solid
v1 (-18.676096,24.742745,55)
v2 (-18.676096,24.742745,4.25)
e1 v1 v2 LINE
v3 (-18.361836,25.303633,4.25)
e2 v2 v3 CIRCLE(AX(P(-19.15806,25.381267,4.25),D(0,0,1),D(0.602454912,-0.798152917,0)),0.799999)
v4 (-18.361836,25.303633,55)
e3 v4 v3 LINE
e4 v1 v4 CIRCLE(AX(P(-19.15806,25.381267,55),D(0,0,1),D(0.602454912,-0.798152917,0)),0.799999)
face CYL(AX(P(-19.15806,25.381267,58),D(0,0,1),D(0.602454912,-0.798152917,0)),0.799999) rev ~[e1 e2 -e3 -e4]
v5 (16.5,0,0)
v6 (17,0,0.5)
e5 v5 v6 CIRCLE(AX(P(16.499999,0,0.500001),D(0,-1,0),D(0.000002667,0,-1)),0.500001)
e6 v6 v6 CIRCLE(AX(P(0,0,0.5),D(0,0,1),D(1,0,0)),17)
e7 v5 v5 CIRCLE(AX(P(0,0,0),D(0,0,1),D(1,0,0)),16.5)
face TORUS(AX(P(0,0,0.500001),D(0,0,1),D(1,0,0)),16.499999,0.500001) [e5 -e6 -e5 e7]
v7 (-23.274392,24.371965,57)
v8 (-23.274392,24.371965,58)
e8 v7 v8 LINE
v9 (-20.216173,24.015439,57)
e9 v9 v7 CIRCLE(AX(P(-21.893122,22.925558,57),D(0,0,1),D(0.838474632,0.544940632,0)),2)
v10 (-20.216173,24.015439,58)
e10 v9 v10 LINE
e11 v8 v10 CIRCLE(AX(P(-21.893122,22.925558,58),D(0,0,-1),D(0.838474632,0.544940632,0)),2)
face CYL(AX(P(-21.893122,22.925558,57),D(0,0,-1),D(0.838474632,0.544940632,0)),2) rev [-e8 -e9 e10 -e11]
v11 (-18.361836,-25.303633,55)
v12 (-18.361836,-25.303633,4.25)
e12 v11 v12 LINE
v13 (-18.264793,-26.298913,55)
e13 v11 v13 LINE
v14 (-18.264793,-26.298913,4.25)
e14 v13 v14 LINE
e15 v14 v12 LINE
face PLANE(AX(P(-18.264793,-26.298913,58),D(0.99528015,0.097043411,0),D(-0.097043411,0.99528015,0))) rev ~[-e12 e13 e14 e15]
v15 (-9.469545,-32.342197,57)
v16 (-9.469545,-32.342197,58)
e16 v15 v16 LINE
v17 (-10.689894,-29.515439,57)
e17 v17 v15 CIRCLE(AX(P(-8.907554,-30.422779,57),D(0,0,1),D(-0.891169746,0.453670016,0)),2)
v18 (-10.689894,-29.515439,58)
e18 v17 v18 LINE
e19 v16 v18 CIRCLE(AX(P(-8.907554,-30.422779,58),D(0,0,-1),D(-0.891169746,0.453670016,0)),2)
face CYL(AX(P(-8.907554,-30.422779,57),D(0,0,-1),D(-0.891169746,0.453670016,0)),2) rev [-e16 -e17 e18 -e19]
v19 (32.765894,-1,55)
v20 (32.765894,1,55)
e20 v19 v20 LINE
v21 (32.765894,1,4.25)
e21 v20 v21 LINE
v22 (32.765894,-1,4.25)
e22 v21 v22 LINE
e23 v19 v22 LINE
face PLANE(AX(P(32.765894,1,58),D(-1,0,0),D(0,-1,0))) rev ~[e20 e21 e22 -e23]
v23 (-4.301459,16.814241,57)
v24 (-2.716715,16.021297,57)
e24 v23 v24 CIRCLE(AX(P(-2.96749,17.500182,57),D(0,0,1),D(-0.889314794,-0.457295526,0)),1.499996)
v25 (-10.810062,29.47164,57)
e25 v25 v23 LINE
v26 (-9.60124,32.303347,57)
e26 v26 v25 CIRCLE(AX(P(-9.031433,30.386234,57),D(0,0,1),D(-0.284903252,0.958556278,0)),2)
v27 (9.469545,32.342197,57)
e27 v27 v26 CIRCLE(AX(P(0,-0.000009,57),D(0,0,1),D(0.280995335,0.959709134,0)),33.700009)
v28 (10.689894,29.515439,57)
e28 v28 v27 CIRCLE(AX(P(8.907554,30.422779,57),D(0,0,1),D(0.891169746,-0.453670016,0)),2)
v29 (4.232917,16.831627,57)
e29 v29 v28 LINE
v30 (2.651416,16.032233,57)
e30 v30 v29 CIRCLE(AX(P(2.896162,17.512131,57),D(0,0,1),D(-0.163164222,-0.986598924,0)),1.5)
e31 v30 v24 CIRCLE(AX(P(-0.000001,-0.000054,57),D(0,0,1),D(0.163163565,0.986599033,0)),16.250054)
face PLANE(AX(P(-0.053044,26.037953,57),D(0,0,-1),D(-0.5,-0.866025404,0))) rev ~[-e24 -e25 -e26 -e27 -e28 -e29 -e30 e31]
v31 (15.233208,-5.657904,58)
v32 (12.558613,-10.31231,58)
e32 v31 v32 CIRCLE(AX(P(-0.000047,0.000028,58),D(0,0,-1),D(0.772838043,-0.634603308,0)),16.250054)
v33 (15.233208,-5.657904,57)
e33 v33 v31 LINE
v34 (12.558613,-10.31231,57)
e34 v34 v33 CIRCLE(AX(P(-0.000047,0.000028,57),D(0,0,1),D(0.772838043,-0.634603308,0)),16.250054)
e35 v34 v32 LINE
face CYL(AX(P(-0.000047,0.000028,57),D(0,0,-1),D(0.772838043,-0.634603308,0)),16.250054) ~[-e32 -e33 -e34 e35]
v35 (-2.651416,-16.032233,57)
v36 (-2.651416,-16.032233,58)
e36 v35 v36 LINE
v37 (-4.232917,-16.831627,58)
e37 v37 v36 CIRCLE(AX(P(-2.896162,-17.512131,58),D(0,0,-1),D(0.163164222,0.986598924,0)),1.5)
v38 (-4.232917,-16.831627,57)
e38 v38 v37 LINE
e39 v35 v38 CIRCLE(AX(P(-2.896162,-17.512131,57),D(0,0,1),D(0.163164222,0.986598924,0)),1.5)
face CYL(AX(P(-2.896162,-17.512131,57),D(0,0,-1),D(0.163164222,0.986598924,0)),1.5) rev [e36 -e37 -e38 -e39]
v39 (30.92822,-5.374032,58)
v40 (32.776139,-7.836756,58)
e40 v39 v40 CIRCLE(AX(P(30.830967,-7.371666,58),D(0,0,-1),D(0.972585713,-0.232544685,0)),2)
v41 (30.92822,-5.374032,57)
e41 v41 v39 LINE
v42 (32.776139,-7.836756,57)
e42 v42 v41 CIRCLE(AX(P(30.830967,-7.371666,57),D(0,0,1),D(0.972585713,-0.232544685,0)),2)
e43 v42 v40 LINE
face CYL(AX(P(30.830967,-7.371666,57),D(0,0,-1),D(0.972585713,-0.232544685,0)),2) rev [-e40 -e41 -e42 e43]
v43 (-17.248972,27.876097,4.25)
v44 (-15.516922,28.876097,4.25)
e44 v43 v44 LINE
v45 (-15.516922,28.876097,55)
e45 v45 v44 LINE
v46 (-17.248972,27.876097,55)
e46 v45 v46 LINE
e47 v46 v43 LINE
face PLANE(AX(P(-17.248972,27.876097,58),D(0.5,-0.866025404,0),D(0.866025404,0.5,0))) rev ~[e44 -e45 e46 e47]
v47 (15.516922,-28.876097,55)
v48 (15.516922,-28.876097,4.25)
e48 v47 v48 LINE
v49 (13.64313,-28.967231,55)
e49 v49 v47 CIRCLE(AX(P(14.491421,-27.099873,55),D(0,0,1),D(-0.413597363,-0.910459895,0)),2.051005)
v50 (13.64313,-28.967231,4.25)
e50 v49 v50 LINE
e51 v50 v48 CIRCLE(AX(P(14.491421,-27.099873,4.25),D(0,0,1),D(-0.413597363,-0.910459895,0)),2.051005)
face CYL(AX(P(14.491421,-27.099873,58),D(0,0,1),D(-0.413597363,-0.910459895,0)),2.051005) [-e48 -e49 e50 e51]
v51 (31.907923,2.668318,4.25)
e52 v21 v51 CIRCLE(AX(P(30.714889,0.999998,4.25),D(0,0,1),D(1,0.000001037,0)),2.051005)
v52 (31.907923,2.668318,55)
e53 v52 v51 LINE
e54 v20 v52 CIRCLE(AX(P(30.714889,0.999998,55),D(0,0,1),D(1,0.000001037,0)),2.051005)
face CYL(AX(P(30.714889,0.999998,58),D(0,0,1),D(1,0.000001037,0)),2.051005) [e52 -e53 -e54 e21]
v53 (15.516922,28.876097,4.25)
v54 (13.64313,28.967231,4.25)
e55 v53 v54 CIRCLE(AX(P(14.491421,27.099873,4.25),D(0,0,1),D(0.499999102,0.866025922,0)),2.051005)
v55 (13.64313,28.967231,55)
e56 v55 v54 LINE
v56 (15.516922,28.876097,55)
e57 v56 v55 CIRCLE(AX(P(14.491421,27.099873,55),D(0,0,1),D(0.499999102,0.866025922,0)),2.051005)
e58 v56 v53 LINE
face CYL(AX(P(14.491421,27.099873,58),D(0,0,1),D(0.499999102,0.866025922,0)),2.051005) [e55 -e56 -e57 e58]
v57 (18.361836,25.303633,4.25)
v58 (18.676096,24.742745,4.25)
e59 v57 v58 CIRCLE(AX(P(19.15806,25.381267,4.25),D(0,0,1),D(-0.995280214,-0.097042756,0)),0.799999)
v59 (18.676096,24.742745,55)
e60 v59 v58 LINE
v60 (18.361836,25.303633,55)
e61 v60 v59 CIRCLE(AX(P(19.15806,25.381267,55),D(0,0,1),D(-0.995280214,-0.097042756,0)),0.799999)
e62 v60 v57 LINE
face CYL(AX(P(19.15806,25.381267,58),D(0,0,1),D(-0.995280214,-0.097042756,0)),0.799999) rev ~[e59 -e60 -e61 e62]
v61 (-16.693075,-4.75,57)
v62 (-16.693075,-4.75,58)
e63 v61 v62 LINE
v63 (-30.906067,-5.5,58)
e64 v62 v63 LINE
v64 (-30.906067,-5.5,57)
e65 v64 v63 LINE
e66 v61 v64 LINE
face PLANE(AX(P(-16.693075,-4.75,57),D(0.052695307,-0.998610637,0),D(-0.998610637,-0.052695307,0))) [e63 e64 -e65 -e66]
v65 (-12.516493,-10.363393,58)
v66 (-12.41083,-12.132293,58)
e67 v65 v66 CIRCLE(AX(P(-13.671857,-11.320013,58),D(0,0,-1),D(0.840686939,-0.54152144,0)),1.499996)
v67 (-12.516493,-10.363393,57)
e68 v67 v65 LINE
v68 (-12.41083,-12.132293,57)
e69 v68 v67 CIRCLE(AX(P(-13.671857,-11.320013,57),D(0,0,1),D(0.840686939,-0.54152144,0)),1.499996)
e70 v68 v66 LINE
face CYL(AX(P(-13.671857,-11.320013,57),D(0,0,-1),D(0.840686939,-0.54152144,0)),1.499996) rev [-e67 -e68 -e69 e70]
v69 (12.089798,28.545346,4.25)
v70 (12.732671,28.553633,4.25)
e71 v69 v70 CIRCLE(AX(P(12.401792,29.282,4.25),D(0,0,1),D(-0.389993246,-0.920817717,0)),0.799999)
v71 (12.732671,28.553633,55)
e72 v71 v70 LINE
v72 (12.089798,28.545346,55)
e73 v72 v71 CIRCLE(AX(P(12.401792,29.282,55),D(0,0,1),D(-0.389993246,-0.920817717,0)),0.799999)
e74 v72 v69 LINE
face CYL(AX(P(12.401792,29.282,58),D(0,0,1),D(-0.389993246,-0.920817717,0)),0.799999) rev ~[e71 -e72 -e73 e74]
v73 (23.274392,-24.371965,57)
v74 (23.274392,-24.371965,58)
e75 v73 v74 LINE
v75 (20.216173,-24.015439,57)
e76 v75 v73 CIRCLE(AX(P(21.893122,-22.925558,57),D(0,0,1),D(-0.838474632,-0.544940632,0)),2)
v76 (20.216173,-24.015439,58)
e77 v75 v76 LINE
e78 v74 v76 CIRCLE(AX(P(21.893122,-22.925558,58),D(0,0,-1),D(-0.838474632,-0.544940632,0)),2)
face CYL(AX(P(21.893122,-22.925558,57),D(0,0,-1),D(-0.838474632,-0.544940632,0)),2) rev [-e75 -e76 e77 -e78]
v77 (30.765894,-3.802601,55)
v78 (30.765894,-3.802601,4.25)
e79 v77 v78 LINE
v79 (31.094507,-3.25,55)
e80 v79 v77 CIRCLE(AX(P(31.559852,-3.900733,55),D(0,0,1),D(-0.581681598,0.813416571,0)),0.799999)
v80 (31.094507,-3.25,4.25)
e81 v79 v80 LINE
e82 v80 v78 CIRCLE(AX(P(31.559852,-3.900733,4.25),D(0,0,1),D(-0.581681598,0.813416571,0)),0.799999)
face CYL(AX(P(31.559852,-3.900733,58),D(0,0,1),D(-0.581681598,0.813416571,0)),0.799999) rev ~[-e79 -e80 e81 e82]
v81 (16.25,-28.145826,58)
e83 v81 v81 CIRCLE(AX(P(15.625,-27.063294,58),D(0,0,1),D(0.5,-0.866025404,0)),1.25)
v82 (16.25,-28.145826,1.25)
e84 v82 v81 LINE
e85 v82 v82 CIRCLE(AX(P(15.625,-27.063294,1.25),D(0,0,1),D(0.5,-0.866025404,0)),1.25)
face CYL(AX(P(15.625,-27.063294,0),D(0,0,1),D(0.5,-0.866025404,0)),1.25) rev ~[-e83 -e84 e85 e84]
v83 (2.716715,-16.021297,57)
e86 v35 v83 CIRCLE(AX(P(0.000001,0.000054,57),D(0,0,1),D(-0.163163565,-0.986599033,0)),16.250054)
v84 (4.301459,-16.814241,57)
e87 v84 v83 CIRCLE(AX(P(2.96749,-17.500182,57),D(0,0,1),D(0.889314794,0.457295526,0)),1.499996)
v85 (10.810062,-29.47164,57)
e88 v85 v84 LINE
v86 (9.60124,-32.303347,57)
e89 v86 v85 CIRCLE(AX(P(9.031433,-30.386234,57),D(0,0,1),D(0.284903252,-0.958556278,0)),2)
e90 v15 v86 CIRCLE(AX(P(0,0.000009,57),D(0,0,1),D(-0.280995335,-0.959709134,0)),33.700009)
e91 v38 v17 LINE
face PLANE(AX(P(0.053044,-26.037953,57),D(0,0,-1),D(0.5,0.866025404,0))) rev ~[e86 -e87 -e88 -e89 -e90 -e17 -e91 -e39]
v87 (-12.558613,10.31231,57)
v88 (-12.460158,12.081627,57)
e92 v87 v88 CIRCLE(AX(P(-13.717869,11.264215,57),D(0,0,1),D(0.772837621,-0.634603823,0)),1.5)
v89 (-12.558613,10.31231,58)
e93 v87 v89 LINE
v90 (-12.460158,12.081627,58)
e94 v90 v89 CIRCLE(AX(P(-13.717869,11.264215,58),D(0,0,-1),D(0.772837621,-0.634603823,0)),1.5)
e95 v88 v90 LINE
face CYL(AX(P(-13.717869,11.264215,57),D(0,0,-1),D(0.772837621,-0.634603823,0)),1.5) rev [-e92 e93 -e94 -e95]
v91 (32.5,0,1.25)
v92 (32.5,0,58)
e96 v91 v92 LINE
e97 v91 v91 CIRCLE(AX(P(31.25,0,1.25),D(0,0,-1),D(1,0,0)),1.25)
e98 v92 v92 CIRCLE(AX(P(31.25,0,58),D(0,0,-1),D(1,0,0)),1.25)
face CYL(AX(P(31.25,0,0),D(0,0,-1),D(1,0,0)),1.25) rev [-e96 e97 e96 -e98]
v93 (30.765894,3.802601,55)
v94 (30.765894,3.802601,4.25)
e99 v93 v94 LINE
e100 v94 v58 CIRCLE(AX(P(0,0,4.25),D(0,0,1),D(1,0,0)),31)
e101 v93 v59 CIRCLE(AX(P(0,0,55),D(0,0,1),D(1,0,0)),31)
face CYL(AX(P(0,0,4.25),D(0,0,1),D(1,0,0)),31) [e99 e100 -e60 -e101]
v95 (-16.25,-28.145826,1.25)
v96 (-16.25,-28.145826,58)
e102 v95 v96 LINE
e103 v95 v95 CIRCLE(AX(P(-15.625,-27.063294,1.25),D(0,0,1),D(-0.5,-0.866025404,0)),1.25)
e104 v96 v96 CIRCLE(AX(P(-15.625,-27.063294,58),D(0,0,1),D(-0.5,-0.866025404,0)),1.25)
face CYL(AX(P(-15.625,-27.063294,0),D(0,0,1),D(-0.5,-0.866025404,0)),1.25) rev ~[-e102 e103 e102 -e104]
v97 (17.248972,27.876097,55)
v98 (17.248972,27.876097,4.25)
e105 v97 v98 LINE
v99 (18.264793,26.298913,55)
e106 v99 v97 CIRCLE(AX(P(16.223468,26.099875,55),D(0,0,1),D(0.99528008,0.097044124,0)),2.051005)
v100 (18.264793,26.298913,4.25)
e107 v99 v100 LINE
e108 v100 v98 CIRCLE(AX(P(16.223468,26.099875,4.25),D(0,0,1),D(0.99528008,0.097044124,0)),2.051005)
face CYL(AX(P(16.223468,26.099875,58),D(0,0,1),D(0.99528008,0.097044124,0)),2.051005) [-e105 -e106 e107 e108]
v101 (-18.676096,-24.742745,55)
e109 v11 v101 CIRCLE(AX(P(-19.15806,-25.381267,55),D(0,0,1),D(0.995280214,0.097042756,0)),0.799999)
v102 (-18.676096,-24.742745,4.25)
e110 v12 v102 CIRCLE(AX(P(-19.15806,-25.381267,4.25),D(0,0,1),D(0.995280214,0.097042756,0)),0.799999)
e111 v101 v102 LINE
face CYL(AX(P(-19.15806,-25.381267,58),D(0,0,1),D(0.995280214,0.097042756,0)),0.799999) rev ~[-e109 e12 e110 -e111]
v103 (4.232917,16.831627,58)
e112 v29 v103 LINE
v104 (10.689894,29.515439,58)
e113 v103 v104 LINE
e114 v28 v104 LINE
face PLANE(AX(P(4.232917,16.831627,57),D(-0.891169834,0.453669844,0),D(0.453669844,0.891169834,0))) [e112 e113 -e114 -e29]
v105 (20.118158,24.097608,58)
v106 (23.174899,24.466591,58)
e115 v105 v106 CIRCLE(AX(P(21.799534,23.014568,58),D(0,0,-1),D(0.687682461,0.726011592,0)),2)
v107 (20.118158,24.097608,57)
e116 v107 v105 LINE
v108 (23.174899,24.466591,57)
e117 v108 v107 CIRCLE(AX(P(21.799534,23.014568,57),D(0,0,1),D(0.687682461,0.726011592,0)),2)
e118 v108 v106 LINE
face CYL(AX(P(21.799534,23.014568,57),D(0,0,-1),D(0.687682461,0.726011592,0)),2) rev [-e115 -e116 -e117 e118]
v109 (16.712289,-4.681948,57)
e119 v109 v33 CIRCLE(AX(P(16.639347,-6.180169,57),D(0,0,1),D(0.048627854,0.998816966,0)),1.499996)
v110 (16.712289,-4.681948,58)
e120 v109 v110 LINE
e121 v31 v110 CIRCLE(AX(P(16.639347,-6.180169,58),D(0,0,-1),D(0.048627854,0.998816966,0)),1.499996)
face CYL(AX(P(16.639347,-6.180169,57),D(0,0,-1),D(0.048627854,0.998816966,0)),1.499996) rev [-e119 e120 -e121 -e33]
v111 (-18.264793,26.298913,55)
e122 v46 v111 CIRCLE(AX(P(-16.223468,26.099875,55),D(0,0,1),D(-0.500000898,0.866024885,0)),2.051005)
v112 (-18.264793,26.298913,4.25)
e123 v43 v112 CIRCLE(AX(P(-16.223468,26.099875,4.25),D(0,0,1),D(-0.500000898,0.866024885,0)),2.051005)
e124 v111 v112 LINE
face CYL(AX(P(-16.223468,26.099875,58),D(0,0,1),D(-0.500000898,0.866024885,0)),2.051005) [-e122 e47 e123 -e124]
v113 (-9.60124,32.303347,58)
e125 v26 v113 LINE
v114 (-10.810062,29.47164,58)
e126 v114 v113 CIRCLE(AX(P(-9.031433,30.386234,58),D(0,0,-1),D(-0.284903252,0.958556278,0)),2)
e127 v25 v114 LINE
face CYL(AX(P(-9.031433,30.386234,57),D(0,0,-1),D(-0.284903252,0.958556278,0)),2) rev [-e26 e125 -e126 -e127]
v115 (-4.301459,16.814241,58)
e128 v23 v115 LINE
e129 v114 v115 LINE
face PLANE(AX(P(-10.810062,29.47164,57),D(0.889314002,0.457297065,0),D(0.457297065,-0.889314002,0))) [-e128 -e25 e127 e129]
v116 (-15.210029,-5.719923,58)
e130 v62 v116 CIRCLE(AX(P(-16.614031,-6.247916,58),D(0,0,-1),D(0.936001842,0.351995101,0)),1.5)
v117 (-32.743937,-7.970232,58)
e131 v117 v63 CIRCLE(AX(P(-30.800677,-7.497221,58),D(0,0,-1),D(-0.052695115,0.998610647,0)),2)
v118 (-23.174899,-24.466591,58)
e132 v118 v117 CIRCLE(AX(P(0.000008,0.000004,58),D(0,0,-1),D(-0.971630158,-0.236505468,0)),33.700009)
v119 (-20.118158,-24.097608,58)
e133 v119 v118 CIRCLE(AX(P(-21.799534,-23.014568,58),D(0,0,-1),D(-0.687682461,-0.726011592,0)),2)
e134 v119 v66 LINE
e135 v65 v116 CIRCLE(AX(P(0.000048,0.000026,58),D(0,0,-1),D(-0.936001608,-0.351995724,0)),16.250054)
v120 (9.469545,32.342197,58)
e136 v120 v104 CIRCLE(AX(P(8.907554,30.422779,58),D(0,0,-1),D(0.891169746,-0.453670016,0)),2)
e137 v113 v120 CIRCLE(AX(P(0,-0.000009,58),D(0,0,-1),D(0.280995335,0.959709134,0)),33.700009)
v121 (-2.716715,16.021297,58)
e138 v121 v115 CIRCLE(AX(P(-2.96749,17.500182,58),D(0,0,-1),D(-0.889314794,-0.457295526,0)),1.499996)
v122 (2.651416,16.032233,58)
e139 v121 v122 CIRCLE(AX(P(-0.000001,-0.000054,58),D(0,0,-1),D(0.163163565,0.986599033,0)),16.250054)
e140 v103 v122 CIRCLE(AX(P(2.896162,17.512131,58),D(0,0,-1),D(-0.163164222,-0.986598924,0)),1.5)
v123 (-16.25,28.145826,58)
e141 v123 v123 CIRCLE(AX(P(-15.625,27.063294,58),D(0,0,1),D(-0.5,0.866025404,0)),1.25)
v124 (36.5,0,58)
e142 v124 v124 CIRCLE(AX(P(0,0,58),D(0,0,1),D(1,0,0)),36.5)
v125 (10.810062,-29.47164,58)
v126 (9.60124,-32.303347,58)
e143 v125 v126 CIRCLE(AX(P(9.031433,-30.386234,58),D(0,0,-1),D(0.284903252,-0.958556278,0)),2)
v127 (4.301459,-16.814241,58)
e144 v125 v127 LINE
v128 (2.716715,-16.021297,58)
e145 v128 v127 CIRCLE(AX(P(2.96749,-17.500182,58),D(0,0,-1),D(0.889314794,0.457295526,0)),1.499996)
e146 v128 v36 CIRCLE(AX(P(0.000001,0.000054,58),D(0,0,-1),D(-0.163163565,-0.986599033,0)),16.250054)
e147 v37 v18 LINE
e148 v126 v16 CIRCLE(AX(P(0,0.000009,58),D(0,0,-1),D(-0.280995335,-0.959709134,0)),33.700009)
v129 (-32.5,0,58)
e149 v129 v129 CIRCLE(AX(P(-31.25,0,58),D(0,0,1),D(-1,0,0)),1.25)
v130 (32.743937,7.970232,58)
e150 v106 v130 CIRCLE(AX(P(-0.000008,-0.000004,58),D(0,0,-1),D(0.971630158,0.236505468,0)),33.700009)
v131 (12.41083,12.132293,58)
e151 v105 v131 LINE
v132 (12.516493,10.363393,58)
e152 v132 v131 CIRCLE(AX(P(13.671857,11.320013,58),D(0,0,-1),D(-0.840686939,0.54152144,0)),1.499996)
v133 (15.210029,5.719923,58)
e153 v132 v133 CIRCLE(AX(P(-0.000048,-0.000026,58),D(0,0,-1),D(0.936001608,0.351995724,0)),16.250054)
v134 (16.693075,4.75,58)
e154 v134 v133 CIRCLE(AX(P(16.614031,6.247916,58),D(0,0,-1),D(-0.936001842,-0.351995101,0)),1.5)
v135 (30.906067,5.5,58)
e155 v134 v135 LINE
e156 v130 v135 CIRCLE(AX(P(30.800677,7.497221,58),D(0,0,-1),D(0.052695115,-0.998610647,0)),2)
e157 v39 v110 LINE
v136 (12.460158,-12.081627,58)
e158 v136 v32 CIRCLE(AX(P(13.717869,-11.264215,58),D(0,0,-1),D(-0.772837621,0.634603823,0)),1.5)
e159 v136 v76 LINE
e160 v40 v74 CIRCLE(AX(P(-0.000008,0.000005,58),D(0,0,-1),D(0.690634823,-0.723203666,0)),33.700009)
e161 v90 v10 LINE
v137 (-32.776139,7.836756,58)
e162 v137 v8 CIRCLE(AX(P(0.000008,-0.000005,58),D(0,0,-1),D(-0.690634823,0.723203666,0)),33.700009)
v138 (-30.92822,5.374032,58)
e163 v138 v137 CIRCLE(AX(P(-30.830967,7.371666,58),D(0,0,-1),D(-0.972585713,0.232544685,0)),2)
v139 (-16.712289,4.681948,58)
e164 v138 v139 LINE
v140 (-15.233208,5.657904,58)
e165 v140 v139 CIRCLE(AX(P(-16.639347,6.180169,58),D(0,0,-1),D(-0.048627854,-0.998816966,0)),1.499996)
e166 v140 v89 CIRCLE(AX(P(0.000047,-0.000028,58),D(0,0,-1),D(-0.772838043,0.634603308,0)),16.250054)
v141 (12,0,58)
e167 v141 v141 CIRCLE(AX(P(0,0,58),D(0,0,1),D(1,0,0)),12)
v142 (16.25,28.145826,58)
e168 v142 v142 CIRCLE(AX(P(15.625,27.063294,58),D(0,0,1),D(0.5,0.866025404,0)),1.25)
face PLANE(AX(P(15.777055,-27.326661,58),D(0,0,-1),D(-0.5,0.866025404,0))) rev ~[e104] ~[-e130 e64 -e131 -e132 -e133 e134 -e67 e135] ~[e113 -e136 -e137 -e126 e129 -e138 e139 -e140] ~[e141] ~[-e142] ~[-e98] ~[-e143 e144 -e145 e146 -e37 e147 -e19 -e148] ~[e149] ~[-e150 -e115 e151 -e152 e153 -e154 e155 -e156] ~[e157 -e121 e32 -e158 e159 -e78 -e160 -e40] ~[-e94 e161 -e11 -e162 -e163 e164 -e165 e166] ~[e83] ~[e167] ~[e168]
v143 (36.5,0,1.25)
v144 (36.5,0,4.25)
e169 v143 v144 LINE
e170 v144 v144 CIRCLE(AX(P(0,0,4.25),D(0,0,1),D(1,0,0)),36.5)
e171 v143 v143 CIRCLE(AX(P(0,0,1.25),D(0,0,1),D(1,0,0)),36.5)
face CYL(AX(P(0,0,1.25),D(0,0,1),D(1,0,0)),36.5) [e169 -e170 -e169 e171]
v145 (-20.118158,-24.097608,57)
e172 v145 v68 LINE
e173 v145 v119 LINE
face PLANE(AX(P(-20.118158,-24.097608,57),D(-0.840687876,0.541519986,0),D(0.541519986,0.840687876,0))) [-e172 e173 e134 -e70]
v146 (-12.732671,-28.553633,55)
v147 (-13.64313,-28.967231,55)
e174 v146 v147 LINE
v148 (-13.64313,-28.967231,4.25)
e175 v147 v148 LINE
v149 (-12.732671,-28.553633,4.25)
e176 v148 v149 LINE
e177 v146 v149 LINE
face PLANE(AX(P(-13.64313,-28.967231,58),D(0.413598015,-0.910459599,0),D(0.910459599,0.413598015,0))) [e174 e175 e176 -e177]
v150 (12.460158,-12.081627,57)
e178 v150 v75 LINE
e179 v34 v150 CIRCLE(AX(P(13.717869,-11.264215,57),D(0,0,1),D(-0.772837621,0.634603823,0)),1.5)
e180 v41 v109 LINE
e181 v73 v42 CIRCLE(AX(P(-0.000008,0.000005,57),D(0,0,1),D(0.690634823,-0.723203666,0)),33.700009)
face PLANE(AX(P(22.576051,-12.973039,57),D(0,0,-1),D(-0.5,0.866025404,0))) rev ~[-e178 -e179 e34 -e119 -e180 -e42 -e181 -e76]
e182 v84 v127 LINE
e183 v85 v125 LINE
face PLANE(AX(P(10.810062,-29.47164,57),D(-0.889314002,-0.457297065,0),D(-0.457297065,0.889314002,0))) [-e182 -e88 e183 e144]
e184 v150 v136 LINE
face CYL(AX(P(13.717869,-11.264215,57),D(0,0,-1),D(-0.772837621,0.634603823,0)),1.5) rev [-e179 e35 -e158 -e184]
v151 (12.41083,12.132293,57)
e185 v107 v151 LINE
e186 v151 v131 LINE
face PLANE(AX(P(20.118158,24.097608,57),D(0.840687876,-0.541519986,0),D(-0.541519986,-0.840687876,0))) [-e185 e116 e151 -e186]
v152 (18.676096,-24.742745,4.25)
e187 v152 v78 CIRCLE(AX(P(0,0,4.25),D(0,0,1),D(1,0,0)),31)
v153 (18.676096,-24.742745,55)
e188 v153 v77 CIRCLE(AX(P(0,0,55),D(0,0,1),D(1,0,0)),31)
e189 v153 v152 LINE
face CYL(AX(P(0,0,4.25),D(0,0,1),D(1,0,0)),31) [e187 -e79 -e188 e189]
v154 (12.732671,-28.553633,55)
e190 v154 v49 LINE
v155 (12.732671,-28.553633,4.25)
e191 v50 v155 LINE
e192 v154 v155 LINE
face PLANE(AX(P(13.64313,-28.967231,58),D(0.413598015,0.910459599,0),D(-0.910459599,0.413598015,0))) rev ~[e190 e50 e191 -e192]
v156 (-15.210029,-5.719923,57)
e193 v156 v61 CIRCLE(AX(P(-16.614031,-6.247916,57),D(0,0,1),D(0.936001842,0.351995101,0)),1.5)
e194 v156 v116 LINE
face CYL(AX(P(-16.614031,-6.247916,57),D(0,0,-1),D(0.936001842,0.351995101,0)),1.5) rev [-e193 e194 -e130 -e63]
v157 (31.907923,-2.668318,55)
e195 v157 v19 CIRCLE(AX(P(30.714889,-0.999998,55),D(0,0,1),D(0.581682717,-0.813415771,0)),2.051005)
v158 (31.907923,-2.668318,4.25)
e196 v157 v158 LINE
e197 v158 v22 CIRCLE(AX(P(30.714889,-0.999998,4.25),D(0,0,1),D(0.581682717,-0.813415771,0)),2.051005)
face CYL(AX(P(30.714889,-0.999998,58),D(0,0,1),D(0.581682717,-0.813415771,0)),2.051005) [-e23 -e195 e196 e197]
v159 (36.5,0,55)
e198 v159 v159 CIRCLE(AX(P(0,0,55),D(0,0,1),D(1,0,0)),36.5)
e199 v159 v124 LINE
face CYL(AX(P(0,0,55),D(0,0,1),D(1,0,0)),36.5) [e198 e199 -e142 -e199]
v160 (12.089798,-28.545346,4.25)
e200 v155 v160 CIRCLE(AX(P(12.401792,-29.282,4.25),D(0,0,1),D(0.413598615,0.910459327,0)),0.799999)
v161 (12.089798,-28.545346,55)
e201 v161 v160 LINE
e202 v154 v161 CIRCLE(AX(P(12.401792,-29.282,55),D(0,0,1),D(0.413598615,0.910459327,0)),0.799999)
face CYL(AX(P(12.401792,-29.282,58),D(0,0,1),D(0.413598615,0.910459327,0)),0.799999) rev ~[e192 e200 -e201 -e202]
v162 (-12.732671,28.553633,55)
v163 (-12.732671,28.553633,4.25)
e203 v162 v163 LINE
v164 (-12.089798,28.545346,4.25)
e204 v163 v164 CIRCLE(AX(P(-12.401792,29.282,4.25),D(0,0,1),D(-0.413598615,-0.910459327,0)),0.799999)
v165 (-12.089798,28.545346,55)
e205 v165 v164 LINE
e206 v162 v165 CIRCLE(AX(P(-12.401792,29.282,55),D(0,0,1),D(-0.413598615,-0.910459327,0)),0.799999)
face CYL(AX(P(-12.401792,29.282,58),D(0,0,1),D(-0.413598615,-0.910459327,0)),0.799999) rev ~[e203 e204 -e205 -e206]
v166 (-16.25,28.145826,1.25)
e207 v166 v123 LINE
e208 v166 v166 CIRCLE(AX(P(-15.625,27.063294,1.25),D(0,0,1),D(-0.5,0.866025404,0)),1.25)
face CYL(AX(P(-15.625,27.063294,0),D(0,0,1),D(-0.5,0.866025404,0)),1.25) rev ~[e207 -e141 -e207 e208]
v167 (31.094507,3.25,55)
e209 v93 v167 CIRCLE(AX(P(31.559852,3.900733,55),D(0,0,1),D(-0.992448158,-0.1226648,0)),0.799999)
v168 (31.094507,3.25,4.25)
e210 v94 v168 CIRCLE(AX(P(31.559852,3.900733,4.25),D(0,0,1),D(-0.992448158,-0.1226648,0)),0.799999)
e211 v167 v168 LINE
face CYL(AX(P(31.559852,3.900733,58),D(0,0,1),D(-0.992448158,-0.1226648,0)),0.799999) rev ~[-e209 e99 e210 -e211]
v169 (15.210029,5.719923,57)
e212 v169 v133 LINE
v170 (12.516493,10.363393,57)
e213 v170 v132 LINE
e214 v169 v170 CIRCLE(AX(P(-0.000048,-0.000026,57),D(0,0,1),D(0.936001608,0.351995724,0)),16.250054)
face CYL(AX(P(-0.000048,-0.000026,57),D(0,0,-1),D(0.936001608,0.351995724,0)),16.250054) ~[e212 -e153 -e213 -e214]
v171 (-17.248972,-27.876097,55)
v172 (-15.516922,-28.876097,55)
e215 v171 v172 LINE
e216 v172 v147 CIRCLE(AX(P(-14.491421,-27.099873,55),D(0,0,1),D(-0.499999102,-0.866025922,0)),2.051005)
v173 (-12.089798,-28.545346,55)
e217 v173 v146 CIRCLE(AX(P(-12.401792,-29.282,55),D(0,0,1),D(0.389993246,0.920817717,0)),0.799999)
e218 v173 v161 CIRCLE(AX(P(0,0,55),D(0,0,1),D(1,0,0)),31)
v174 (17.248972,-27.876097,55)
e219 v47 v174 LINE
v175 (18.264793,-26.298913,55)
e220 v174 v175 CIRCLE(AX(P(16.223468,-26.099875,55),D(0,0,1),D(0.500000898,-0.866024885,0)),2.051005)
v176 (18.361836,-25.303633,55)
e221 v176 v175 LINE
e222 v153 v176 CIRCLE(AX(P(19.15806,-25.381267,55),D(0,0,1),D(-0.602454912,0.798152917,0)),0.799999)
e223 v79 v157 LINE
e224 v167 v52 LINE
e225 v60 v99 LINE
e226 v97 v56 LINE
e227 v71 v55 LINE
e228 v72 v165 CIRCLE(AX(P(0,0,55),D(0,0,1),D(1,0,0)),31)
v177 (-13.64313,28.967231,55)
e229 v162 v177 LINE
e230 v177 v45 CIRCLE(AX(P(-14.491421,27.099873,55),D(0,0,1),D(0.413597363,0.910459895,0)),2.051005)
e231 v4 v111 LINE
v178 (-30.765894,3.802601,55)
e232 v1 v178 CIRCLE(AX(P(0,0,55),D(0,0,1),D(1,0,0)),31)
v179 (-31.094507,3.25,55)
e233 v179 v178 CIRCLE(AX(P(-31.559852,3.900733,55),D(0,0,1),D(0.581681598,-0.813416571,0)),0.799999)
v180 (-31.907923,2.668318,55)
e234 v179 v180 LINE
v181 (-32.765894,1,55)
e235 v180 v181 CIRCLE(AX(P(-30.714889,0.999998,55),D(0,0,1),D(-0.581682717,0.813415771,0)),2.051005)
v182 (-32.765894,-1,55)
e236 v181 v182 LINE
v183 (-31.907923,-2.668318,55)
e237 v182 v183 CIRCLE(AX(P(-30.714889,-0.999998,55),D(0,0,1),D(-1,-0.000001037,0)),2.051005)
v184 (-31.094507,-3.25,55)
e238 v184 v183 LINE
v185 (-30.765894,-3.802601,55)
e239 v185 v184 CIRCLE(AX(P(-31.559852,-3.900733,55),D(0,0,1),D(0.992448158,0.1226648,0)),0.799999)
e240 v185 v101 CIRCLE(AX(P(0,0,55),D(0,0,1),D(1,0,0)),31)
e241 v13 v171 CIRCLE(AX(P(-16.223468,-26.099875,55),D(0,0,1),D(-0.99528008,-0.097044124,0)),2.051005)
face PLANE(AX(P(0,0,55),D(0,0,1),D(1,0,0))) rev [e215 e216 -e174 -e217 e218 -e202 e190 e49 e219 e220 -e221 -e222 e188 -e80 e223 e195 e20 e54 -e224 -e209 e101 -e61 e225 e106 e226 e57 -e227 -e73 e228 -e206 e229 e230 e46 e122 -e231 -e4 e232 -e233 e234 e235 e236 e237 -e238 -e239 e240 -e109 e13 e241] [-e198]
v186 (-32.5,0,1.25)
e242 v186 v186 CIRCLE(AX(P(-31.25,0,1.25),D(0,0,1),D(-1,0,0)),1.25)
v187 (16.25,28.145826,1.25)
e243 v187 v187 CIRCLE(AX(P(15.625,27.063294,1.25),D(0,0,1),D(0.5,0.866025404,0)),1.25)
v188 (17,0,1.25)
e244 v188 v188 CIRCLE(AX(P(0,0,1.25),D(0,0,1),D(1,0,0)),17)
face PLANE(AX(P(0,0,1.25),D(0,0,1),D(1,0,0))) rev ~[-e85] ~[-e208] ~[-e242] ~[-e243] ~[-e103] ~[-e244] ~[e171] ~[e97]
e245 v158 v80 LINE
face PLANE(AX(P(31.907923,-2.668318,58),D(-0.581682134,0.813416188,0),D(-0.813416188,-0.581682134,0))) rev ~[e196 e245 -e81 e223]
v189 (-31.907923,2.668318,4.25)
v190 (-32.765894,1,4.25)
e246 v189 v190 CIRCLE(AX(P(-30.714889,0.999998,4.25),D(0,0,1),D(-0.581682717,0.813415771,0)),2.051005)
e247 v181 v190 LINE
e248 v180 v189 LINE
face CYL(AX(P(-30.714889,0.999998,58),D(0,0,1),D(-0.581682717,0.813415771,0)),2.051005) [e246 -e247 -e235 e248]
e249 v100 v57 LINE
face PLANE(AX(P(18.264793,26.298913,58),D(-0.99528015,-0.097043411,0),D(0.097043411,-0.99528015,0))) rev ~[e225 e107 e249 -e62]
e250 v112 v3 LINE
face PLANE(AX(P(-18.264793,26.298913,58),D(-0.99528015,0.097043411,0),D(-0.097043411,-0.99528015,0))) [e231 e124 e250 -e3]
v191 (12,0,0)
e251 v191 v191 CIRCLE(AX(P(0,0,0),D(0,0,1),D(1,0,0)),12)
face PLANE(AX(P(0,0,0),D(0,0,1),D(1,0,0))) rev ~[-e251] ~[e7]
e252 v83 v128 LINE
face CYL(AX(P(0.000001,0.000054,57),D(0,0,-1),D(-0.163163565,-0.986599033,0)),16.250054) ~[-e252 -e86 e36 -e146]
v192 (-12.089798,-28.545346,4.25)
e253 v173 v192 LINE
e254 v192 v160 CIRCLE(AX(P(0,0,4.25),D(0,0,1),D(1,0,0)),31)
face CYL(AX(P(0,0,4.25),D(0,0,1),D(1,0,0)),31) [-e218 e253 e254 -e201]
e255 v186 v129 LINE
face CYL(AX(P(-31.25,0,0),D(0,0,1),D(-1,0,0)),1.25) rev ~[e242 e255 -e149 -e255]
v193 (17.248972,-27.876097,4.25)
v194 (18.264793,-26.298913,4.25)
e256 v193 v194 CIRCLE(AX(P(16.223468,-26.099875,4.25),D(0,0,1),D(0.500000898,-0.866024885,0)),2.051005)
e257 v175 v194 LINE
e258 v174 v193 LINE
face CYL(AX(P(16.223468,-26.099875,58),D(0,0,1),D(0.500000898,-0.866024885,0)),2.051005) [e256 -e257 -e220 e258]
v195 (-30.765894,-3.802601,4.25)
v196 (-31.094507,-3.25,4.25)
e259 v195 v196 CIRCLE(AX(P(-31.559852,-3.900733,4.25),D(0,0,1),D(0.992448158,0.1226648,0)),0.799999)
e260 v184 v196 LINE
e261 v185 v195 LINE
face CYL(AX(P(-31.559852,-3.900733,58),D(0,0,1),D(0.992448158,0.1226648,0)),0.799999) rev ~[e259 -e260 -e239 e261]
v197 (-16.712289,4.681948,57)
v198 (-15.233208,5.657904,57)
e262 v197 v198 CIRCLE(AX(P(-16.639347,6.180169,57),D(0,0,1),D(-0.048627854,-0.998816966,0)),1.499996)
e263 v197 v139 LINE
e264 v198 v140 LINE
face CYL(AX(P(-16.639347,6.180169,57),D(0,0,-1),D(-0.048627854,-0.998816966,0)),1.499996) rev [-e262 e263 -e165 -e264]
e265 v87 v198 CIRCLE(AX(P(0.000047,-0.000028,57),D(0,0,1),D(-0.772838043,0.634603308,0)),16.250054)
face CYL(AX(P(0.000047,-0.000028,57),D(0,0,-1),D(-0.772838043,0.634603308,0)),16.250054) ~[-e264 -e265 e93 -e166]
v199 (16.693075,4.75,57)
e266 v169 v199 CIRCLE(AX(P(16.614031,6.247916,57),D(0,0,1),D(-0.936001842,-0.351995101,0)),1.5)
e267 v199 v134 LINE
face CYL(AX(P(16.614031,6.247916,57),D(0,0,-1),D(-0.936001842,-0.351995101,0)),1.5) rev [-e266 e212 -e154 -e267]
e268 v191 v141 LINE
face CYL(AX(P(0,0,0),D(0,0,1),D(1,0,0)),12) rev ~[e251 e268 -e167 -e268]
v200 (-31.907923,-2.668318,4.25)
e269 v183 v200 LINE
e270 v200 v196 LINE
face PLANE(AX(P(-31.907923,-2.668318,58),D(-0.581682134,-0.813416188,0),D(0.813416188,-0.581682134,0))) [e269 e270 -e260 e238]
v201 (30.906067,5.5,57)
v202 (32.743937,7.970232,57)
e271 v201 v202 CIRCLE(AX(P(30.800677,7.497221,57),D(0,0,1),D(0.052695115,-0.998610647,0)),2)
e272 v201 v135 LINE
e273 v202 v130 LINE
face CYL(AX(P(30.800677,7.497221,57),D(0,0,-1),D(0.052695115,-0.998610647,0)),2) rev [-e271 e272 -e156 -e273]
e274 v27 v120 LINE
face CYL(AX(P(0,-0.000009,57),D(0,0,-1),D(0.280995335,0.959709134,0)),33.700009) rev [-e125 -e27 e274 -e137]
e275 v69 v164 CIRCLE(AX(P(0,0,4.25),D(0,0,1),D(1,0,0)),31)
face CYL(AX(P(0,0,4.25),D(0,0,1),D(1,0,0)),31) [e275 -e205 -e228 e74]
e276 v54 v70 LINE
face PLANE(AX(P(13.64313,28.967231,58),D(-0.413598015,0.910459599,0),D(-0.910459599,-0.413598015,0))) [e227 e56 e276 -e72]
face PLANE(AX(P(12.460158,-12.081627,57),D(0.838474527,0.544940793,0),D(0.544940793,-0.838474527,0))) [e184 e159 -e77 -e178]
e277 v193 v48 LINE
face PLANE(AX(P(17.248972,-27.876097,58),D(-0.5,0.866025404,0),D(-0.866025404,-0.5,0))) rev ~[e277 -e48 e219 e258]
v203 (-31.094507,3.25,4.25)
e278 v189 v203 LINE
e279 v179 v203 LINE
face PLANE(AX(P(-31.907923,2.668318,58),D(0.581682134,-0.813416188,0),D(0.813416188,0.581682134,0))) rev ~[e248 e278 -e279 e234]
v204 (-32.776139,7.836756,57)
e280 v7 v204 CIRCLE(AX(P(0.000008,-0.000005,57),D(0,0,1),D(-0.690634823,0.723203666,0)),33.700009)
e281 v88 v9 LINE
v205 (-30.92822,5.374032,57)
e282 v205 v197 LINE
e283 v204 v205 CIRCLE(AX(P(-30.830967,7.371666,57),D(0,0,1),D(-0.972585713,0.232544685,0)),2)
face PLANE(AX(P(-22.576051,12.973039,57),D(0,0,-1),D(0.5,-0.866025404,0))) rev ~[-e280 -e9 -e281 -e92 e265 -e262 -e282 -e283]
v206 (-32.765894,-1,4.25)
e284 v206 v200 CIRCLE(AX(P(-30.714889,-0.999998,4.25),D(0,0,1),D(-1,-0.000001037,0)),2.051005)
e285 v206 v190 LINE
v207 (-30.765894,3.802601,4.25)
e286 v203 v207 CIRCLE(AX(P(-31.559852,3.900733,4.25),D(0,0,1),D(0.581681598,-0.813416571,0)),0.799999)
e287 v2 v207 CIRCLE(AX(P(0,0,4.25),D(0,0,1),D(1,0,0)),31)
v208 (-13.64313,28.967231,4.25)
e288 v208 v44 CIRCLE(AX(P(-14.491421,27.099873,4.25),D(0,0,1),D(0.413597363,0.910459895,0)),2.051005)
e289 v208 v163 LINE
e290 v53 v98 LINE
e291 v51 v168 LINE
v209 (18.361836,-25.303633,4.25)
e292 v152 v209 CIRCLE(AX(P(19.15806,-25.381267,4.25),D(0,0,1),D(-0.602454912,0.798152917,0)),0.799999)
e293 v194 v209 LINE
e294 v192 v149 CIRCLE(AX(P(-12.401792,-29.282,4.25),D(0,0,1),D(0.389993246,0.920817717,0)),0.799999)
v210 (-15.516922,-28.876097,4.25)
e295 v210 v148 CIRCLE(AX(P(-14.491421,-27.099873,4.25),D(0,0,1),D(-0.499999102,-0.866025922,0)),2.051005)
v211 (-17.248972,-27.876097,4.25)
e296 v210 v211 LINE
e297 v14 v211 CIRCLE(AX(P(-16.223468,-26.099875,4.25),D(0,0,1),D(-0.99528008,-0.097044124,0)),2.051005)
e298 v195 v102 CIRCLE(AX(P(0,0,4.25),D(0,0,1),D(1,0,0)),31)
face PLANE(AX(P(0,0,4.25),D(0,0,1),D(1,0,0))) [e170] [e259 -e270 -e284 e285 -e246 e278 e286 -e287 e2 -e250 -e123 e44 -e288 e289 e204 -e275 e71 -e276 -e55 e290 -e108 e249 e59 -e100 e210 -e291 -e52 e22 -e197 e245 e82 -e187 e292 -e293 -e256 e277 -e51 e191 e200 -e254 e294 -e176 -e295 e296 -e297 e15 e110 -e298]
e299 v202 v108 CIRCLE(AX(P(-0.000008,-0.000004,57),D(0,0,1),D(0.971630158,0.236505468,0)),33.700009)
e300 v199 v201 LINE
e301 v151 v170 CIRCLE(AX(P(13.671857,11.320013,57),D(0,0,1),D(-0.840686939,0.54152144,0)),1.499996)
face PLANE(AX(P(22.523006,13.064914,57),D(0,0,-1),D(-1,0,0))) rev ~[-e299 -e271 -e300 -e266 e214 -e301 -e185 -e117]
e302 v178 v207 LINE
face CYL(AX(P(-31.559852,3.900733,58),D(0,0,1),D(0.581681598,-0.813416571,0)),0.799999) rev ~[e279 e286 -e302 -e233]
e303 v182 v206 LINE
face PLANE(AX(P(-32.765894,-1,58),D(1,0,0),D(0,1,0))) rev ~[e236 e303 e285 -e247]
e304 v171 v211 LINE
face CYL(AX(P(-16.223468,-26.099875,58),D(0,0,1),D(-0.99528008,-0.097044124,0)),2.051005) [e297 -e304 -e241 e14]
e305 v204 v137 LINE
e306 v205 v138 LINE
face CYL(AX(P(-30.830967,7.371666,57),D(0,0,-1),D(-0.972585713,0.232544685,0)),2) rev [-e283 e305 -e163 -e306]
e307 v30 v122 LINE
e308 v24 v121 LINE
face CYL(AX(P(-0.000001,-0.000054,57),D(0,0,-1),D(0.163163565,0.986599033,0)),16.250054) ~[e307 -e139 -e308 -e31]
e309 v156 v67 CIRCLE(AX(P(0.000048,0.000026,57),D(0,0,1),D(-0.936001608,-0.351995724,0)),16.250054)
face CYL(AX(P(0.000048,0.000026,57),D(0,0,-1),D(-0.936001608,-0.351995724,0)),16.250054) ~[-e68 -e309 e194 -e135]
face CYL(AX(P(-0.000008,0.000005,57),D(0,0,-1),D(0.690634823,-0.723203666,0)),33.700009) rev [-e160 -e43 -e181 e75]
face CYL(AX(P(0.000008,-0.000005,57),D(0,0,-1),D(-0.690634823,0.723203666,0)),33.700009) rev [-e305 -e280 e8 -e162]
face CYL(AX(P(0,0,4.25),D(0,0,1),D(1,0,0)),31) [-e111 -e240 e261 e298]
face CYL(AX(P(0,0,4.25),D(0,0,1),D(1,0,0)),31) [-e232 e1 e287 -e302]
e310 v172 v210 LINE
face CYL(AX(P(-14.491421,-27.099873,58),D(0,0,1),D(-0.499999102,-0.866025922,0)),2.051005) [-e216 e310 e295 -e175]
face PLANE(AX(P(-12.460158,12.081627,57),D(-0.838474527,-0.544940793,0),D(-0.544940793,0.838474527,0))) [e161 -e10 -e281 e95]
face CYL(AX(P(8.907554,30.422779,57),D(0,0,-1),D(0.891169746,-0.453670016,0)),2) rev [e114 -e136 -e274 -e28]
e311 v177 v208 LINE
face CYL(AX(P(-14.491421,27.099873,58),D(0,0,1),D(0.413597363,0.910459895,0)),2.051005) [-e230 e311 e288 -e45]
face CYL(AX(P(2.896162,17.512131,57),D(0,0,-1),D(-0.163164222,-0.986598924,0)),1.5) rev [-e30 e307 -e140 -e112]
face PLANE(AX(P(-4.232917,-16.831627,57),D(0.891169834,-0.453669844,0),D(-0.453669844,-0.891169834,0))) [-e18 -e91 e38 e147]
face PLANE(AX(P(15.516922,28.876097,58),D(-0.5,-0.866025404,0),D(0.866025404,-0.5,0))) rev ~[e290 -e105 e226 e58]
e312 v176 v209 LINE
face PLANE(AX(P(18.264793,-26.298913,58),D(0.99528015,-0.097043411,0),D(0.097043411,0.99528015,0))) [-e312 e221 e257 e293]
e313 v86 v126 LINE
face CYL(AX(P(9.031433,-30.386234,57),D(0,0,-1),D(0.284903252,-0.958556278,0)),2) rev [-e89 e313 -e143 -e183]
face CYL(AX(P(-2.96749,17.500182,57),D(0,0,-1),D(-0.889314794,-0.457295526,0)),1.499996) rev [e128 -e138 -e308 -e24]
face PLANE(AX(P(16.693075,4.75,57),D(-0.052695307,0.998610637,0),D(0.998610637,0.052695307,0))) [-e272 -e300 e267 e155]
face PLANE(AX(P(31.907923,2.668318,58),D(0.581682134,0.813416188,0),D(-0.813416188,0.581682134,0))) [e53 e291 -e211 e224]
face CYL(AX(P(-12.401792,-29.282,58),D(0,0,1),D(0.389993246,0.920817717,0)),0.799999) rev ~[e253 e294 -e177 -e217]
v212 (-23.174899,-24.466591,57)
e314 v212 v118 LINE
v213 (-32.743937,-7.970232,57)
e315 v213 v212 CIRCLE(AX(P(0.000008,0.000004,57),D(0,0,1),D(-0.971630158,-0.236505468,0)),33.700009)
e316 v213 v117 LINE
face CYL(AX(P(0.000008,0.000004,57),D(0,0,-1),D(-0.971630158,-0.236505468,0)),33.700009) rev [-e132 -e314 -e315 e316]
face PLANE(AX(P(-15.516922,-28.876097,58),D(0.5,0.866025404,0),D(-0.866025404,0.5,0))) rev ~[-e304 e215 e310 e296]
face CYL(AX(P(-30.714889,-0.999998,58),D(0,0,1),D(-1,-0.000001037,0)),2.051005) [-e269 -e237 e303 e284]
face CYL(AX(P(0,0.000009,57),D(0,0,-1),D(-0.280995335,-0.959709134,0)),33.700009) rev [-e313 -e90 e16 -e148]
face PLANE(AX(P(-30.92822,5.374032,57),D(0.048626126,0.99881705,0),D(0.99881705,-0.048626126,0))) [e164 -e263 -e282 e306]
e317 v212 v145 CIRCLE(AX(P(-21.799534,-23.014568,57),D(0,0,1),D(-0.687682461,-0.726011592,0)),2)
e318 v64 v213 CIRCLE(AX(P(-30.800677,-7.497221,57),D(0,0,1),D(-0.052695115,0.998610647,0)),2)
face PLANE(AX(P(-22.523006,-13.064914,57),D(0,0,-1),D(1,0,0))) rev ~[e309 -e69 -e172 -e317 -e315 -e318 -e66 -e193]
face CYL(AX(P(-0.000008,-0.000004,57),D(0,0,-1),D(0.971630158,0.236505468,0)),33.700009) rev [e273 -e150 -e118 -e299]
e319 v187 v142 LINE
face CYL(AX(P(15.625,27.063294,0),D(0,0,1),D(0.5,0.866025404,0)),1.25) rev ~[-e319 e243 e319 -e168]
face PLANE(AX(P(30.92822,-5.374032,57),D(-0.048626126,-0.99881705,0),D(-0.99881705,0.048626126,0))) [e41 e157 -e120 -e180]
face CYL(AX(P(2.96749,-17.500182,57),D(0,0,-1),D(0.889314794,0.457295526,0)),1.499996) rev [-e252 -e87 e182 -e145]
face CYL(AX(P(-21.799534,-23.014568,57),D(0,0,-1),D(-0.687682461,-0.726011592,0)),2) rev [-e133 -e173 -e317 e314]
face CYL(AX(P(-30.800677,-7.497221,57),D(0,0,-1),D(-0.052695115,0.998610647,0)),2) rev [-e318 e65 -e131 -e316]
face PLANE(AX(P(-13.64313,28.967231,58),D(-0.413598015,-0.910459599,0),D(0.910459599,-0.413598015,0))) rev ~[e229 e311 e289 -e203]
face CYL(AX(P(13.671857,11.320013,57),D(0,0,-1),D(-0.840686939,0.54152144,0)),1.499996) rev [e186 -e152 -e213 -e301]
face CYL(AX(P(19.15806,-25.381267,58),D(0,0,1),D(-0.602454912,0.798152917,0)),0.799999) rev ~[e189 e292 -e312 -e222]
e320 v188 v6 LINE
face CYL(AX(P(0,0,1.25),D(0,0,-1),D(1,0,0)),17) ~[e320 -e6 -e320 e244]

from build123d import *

# Parameters (mm, degrees)
PAD_DEPTH          = 56
SKETCH005_R        = 1.25
POCKET_DEPTH       = 236.830052
POCKET_DEPTH_BACK  = 294.830052
POCKET001_DEPTH    = 237.830052
POLARPATTERN_COUNT = 6


with BuildPart() as part:
    # Sketch → Revolution002 (revolve)
    with BuildSketch(Plane.XZ):
        with BuildLine():
            Line((12, 0), (12, 58))
            Line((12, 58), (36.5, 58))
            Line((36.5, 55), (36.5, 58))
            Line((31, 55), (36.5, 55))
            Line((31, 4.25), (31, 55))
            Line((36.5, 4.25), (31, 4.25))
            Line((36.5, 1.25), (36.5, 4.25))
            Line((36.5, 1.25), (17, 1.25))
            Line((17, 1.25), (17, 0.5))
            ThreePointArc((16.5, 0), (16.853553, 0.146447), (17, 0.5))
            Line((16.5, 0), (12, 0))
        make_face()
    revolve(axis=Axis((0, 0, 0), (0, 0, 1)))

    # Sketch004 → Pad (new body)
    with BuildSketch(Plane.XY.offset(58)):
        with BuildLine():
            ThreePointArc((30.765894, -3.802601), (31, 0), (30.765894, 3.802601))
            ThreePointArc((30.765894, 3.802601), (30.872245, 3.491837), (31.094507, 3.25))
            Line((31.907923, 2.668318), (31.094507, 3.25))
            ThreePointArc((32.765894, 1), (32.538832, 1.938003), (31.907923, 2.668318))
            Line((32.765894, 1), (32.765894, -1))
            ThreePointArc((31.907923, -2.668318), (32.538832, -1.938003), (32.765894, -1))
            Line((31.907923, -2.668318), (31.094507, -3.25))
            ThreePointArc((31.094507, -3.25), (30.872245, -3.491837), (30.765894, -3.802601))
        make_face()
    pad = extrude(amount=-PAD_DEPTH)

    # Sketch005 → Pocket (cut, two sides)
    with BuildSketch(Plane.XY) as pocket_sk:
        with Locations((31.25, 0)):
            Circle(SKETCH005_R)
    pocket = extrude(amount=-POCKET_DEPTH, mode=Mode.SUBTRACT) + extrude(pocket_sk.sketch, amount=POCKET_DEPTH_BACK, mode=Mode.SUBTRACT)

    # Sketch006 → Pocket001 (cut, through all)
    with BuildSketch(Plane.XY.offset(57)):
        with BuildLine():
            ThreePointArc((15.210029, 5.719923), (14.056331, 8.153652), (12.516493, 10.363393))
            ThreePointArc((12.41083, 12.132293), (12.17453, 11.230572), (12.516493, 10.363393))
            Line((20.118158, 24.097608), (12.41083, 12.132293))
            ThreePointArc((23.174899, 24.466591), (21.559851, 25.000154), (20.118158, 24.097608))
            ThreePointArc((32.743937, 7.970232), (29.150669, 16.90942), (23.174899, 24.466591))
            ThreePointArc((30.906067, 5.5), (32.405281, 6.303385), (32.743937, 7.970232))
            Line((16.693075, 4.75), (30.906067, 5.5))
            ThreePointArc((15.210029, 5.719923), (15.793016, 4.992554), (16.693075, 4.75))
        make_face()
    pocket001 = extrude(amount=POCKET001_DEPTH, mode=Mode.SUBTRACT)

    # PolarPattern: Pad, Pocket, Pocket001 ×6 about axis
    polarpattern_axis = Axis((0, 0, 58), (0, 0, 1))
    for i in range(1, POLARPATTERN_COUNT):
        add(pad.rotate(polarpattern_axis, i * 360 / POLARPATTERN_COUNT))
        add(pocket.rotate(polarpattern_axis, i * 360 / POLARPATTERN_COUNT), mode=Mode.SUBTRACT)
        add(pocket001.rotate(polarpattern_axis, i * 360 / POLARPATTERN_COUNT), mode=Mode.SUBTRACT)


solid = part.part
